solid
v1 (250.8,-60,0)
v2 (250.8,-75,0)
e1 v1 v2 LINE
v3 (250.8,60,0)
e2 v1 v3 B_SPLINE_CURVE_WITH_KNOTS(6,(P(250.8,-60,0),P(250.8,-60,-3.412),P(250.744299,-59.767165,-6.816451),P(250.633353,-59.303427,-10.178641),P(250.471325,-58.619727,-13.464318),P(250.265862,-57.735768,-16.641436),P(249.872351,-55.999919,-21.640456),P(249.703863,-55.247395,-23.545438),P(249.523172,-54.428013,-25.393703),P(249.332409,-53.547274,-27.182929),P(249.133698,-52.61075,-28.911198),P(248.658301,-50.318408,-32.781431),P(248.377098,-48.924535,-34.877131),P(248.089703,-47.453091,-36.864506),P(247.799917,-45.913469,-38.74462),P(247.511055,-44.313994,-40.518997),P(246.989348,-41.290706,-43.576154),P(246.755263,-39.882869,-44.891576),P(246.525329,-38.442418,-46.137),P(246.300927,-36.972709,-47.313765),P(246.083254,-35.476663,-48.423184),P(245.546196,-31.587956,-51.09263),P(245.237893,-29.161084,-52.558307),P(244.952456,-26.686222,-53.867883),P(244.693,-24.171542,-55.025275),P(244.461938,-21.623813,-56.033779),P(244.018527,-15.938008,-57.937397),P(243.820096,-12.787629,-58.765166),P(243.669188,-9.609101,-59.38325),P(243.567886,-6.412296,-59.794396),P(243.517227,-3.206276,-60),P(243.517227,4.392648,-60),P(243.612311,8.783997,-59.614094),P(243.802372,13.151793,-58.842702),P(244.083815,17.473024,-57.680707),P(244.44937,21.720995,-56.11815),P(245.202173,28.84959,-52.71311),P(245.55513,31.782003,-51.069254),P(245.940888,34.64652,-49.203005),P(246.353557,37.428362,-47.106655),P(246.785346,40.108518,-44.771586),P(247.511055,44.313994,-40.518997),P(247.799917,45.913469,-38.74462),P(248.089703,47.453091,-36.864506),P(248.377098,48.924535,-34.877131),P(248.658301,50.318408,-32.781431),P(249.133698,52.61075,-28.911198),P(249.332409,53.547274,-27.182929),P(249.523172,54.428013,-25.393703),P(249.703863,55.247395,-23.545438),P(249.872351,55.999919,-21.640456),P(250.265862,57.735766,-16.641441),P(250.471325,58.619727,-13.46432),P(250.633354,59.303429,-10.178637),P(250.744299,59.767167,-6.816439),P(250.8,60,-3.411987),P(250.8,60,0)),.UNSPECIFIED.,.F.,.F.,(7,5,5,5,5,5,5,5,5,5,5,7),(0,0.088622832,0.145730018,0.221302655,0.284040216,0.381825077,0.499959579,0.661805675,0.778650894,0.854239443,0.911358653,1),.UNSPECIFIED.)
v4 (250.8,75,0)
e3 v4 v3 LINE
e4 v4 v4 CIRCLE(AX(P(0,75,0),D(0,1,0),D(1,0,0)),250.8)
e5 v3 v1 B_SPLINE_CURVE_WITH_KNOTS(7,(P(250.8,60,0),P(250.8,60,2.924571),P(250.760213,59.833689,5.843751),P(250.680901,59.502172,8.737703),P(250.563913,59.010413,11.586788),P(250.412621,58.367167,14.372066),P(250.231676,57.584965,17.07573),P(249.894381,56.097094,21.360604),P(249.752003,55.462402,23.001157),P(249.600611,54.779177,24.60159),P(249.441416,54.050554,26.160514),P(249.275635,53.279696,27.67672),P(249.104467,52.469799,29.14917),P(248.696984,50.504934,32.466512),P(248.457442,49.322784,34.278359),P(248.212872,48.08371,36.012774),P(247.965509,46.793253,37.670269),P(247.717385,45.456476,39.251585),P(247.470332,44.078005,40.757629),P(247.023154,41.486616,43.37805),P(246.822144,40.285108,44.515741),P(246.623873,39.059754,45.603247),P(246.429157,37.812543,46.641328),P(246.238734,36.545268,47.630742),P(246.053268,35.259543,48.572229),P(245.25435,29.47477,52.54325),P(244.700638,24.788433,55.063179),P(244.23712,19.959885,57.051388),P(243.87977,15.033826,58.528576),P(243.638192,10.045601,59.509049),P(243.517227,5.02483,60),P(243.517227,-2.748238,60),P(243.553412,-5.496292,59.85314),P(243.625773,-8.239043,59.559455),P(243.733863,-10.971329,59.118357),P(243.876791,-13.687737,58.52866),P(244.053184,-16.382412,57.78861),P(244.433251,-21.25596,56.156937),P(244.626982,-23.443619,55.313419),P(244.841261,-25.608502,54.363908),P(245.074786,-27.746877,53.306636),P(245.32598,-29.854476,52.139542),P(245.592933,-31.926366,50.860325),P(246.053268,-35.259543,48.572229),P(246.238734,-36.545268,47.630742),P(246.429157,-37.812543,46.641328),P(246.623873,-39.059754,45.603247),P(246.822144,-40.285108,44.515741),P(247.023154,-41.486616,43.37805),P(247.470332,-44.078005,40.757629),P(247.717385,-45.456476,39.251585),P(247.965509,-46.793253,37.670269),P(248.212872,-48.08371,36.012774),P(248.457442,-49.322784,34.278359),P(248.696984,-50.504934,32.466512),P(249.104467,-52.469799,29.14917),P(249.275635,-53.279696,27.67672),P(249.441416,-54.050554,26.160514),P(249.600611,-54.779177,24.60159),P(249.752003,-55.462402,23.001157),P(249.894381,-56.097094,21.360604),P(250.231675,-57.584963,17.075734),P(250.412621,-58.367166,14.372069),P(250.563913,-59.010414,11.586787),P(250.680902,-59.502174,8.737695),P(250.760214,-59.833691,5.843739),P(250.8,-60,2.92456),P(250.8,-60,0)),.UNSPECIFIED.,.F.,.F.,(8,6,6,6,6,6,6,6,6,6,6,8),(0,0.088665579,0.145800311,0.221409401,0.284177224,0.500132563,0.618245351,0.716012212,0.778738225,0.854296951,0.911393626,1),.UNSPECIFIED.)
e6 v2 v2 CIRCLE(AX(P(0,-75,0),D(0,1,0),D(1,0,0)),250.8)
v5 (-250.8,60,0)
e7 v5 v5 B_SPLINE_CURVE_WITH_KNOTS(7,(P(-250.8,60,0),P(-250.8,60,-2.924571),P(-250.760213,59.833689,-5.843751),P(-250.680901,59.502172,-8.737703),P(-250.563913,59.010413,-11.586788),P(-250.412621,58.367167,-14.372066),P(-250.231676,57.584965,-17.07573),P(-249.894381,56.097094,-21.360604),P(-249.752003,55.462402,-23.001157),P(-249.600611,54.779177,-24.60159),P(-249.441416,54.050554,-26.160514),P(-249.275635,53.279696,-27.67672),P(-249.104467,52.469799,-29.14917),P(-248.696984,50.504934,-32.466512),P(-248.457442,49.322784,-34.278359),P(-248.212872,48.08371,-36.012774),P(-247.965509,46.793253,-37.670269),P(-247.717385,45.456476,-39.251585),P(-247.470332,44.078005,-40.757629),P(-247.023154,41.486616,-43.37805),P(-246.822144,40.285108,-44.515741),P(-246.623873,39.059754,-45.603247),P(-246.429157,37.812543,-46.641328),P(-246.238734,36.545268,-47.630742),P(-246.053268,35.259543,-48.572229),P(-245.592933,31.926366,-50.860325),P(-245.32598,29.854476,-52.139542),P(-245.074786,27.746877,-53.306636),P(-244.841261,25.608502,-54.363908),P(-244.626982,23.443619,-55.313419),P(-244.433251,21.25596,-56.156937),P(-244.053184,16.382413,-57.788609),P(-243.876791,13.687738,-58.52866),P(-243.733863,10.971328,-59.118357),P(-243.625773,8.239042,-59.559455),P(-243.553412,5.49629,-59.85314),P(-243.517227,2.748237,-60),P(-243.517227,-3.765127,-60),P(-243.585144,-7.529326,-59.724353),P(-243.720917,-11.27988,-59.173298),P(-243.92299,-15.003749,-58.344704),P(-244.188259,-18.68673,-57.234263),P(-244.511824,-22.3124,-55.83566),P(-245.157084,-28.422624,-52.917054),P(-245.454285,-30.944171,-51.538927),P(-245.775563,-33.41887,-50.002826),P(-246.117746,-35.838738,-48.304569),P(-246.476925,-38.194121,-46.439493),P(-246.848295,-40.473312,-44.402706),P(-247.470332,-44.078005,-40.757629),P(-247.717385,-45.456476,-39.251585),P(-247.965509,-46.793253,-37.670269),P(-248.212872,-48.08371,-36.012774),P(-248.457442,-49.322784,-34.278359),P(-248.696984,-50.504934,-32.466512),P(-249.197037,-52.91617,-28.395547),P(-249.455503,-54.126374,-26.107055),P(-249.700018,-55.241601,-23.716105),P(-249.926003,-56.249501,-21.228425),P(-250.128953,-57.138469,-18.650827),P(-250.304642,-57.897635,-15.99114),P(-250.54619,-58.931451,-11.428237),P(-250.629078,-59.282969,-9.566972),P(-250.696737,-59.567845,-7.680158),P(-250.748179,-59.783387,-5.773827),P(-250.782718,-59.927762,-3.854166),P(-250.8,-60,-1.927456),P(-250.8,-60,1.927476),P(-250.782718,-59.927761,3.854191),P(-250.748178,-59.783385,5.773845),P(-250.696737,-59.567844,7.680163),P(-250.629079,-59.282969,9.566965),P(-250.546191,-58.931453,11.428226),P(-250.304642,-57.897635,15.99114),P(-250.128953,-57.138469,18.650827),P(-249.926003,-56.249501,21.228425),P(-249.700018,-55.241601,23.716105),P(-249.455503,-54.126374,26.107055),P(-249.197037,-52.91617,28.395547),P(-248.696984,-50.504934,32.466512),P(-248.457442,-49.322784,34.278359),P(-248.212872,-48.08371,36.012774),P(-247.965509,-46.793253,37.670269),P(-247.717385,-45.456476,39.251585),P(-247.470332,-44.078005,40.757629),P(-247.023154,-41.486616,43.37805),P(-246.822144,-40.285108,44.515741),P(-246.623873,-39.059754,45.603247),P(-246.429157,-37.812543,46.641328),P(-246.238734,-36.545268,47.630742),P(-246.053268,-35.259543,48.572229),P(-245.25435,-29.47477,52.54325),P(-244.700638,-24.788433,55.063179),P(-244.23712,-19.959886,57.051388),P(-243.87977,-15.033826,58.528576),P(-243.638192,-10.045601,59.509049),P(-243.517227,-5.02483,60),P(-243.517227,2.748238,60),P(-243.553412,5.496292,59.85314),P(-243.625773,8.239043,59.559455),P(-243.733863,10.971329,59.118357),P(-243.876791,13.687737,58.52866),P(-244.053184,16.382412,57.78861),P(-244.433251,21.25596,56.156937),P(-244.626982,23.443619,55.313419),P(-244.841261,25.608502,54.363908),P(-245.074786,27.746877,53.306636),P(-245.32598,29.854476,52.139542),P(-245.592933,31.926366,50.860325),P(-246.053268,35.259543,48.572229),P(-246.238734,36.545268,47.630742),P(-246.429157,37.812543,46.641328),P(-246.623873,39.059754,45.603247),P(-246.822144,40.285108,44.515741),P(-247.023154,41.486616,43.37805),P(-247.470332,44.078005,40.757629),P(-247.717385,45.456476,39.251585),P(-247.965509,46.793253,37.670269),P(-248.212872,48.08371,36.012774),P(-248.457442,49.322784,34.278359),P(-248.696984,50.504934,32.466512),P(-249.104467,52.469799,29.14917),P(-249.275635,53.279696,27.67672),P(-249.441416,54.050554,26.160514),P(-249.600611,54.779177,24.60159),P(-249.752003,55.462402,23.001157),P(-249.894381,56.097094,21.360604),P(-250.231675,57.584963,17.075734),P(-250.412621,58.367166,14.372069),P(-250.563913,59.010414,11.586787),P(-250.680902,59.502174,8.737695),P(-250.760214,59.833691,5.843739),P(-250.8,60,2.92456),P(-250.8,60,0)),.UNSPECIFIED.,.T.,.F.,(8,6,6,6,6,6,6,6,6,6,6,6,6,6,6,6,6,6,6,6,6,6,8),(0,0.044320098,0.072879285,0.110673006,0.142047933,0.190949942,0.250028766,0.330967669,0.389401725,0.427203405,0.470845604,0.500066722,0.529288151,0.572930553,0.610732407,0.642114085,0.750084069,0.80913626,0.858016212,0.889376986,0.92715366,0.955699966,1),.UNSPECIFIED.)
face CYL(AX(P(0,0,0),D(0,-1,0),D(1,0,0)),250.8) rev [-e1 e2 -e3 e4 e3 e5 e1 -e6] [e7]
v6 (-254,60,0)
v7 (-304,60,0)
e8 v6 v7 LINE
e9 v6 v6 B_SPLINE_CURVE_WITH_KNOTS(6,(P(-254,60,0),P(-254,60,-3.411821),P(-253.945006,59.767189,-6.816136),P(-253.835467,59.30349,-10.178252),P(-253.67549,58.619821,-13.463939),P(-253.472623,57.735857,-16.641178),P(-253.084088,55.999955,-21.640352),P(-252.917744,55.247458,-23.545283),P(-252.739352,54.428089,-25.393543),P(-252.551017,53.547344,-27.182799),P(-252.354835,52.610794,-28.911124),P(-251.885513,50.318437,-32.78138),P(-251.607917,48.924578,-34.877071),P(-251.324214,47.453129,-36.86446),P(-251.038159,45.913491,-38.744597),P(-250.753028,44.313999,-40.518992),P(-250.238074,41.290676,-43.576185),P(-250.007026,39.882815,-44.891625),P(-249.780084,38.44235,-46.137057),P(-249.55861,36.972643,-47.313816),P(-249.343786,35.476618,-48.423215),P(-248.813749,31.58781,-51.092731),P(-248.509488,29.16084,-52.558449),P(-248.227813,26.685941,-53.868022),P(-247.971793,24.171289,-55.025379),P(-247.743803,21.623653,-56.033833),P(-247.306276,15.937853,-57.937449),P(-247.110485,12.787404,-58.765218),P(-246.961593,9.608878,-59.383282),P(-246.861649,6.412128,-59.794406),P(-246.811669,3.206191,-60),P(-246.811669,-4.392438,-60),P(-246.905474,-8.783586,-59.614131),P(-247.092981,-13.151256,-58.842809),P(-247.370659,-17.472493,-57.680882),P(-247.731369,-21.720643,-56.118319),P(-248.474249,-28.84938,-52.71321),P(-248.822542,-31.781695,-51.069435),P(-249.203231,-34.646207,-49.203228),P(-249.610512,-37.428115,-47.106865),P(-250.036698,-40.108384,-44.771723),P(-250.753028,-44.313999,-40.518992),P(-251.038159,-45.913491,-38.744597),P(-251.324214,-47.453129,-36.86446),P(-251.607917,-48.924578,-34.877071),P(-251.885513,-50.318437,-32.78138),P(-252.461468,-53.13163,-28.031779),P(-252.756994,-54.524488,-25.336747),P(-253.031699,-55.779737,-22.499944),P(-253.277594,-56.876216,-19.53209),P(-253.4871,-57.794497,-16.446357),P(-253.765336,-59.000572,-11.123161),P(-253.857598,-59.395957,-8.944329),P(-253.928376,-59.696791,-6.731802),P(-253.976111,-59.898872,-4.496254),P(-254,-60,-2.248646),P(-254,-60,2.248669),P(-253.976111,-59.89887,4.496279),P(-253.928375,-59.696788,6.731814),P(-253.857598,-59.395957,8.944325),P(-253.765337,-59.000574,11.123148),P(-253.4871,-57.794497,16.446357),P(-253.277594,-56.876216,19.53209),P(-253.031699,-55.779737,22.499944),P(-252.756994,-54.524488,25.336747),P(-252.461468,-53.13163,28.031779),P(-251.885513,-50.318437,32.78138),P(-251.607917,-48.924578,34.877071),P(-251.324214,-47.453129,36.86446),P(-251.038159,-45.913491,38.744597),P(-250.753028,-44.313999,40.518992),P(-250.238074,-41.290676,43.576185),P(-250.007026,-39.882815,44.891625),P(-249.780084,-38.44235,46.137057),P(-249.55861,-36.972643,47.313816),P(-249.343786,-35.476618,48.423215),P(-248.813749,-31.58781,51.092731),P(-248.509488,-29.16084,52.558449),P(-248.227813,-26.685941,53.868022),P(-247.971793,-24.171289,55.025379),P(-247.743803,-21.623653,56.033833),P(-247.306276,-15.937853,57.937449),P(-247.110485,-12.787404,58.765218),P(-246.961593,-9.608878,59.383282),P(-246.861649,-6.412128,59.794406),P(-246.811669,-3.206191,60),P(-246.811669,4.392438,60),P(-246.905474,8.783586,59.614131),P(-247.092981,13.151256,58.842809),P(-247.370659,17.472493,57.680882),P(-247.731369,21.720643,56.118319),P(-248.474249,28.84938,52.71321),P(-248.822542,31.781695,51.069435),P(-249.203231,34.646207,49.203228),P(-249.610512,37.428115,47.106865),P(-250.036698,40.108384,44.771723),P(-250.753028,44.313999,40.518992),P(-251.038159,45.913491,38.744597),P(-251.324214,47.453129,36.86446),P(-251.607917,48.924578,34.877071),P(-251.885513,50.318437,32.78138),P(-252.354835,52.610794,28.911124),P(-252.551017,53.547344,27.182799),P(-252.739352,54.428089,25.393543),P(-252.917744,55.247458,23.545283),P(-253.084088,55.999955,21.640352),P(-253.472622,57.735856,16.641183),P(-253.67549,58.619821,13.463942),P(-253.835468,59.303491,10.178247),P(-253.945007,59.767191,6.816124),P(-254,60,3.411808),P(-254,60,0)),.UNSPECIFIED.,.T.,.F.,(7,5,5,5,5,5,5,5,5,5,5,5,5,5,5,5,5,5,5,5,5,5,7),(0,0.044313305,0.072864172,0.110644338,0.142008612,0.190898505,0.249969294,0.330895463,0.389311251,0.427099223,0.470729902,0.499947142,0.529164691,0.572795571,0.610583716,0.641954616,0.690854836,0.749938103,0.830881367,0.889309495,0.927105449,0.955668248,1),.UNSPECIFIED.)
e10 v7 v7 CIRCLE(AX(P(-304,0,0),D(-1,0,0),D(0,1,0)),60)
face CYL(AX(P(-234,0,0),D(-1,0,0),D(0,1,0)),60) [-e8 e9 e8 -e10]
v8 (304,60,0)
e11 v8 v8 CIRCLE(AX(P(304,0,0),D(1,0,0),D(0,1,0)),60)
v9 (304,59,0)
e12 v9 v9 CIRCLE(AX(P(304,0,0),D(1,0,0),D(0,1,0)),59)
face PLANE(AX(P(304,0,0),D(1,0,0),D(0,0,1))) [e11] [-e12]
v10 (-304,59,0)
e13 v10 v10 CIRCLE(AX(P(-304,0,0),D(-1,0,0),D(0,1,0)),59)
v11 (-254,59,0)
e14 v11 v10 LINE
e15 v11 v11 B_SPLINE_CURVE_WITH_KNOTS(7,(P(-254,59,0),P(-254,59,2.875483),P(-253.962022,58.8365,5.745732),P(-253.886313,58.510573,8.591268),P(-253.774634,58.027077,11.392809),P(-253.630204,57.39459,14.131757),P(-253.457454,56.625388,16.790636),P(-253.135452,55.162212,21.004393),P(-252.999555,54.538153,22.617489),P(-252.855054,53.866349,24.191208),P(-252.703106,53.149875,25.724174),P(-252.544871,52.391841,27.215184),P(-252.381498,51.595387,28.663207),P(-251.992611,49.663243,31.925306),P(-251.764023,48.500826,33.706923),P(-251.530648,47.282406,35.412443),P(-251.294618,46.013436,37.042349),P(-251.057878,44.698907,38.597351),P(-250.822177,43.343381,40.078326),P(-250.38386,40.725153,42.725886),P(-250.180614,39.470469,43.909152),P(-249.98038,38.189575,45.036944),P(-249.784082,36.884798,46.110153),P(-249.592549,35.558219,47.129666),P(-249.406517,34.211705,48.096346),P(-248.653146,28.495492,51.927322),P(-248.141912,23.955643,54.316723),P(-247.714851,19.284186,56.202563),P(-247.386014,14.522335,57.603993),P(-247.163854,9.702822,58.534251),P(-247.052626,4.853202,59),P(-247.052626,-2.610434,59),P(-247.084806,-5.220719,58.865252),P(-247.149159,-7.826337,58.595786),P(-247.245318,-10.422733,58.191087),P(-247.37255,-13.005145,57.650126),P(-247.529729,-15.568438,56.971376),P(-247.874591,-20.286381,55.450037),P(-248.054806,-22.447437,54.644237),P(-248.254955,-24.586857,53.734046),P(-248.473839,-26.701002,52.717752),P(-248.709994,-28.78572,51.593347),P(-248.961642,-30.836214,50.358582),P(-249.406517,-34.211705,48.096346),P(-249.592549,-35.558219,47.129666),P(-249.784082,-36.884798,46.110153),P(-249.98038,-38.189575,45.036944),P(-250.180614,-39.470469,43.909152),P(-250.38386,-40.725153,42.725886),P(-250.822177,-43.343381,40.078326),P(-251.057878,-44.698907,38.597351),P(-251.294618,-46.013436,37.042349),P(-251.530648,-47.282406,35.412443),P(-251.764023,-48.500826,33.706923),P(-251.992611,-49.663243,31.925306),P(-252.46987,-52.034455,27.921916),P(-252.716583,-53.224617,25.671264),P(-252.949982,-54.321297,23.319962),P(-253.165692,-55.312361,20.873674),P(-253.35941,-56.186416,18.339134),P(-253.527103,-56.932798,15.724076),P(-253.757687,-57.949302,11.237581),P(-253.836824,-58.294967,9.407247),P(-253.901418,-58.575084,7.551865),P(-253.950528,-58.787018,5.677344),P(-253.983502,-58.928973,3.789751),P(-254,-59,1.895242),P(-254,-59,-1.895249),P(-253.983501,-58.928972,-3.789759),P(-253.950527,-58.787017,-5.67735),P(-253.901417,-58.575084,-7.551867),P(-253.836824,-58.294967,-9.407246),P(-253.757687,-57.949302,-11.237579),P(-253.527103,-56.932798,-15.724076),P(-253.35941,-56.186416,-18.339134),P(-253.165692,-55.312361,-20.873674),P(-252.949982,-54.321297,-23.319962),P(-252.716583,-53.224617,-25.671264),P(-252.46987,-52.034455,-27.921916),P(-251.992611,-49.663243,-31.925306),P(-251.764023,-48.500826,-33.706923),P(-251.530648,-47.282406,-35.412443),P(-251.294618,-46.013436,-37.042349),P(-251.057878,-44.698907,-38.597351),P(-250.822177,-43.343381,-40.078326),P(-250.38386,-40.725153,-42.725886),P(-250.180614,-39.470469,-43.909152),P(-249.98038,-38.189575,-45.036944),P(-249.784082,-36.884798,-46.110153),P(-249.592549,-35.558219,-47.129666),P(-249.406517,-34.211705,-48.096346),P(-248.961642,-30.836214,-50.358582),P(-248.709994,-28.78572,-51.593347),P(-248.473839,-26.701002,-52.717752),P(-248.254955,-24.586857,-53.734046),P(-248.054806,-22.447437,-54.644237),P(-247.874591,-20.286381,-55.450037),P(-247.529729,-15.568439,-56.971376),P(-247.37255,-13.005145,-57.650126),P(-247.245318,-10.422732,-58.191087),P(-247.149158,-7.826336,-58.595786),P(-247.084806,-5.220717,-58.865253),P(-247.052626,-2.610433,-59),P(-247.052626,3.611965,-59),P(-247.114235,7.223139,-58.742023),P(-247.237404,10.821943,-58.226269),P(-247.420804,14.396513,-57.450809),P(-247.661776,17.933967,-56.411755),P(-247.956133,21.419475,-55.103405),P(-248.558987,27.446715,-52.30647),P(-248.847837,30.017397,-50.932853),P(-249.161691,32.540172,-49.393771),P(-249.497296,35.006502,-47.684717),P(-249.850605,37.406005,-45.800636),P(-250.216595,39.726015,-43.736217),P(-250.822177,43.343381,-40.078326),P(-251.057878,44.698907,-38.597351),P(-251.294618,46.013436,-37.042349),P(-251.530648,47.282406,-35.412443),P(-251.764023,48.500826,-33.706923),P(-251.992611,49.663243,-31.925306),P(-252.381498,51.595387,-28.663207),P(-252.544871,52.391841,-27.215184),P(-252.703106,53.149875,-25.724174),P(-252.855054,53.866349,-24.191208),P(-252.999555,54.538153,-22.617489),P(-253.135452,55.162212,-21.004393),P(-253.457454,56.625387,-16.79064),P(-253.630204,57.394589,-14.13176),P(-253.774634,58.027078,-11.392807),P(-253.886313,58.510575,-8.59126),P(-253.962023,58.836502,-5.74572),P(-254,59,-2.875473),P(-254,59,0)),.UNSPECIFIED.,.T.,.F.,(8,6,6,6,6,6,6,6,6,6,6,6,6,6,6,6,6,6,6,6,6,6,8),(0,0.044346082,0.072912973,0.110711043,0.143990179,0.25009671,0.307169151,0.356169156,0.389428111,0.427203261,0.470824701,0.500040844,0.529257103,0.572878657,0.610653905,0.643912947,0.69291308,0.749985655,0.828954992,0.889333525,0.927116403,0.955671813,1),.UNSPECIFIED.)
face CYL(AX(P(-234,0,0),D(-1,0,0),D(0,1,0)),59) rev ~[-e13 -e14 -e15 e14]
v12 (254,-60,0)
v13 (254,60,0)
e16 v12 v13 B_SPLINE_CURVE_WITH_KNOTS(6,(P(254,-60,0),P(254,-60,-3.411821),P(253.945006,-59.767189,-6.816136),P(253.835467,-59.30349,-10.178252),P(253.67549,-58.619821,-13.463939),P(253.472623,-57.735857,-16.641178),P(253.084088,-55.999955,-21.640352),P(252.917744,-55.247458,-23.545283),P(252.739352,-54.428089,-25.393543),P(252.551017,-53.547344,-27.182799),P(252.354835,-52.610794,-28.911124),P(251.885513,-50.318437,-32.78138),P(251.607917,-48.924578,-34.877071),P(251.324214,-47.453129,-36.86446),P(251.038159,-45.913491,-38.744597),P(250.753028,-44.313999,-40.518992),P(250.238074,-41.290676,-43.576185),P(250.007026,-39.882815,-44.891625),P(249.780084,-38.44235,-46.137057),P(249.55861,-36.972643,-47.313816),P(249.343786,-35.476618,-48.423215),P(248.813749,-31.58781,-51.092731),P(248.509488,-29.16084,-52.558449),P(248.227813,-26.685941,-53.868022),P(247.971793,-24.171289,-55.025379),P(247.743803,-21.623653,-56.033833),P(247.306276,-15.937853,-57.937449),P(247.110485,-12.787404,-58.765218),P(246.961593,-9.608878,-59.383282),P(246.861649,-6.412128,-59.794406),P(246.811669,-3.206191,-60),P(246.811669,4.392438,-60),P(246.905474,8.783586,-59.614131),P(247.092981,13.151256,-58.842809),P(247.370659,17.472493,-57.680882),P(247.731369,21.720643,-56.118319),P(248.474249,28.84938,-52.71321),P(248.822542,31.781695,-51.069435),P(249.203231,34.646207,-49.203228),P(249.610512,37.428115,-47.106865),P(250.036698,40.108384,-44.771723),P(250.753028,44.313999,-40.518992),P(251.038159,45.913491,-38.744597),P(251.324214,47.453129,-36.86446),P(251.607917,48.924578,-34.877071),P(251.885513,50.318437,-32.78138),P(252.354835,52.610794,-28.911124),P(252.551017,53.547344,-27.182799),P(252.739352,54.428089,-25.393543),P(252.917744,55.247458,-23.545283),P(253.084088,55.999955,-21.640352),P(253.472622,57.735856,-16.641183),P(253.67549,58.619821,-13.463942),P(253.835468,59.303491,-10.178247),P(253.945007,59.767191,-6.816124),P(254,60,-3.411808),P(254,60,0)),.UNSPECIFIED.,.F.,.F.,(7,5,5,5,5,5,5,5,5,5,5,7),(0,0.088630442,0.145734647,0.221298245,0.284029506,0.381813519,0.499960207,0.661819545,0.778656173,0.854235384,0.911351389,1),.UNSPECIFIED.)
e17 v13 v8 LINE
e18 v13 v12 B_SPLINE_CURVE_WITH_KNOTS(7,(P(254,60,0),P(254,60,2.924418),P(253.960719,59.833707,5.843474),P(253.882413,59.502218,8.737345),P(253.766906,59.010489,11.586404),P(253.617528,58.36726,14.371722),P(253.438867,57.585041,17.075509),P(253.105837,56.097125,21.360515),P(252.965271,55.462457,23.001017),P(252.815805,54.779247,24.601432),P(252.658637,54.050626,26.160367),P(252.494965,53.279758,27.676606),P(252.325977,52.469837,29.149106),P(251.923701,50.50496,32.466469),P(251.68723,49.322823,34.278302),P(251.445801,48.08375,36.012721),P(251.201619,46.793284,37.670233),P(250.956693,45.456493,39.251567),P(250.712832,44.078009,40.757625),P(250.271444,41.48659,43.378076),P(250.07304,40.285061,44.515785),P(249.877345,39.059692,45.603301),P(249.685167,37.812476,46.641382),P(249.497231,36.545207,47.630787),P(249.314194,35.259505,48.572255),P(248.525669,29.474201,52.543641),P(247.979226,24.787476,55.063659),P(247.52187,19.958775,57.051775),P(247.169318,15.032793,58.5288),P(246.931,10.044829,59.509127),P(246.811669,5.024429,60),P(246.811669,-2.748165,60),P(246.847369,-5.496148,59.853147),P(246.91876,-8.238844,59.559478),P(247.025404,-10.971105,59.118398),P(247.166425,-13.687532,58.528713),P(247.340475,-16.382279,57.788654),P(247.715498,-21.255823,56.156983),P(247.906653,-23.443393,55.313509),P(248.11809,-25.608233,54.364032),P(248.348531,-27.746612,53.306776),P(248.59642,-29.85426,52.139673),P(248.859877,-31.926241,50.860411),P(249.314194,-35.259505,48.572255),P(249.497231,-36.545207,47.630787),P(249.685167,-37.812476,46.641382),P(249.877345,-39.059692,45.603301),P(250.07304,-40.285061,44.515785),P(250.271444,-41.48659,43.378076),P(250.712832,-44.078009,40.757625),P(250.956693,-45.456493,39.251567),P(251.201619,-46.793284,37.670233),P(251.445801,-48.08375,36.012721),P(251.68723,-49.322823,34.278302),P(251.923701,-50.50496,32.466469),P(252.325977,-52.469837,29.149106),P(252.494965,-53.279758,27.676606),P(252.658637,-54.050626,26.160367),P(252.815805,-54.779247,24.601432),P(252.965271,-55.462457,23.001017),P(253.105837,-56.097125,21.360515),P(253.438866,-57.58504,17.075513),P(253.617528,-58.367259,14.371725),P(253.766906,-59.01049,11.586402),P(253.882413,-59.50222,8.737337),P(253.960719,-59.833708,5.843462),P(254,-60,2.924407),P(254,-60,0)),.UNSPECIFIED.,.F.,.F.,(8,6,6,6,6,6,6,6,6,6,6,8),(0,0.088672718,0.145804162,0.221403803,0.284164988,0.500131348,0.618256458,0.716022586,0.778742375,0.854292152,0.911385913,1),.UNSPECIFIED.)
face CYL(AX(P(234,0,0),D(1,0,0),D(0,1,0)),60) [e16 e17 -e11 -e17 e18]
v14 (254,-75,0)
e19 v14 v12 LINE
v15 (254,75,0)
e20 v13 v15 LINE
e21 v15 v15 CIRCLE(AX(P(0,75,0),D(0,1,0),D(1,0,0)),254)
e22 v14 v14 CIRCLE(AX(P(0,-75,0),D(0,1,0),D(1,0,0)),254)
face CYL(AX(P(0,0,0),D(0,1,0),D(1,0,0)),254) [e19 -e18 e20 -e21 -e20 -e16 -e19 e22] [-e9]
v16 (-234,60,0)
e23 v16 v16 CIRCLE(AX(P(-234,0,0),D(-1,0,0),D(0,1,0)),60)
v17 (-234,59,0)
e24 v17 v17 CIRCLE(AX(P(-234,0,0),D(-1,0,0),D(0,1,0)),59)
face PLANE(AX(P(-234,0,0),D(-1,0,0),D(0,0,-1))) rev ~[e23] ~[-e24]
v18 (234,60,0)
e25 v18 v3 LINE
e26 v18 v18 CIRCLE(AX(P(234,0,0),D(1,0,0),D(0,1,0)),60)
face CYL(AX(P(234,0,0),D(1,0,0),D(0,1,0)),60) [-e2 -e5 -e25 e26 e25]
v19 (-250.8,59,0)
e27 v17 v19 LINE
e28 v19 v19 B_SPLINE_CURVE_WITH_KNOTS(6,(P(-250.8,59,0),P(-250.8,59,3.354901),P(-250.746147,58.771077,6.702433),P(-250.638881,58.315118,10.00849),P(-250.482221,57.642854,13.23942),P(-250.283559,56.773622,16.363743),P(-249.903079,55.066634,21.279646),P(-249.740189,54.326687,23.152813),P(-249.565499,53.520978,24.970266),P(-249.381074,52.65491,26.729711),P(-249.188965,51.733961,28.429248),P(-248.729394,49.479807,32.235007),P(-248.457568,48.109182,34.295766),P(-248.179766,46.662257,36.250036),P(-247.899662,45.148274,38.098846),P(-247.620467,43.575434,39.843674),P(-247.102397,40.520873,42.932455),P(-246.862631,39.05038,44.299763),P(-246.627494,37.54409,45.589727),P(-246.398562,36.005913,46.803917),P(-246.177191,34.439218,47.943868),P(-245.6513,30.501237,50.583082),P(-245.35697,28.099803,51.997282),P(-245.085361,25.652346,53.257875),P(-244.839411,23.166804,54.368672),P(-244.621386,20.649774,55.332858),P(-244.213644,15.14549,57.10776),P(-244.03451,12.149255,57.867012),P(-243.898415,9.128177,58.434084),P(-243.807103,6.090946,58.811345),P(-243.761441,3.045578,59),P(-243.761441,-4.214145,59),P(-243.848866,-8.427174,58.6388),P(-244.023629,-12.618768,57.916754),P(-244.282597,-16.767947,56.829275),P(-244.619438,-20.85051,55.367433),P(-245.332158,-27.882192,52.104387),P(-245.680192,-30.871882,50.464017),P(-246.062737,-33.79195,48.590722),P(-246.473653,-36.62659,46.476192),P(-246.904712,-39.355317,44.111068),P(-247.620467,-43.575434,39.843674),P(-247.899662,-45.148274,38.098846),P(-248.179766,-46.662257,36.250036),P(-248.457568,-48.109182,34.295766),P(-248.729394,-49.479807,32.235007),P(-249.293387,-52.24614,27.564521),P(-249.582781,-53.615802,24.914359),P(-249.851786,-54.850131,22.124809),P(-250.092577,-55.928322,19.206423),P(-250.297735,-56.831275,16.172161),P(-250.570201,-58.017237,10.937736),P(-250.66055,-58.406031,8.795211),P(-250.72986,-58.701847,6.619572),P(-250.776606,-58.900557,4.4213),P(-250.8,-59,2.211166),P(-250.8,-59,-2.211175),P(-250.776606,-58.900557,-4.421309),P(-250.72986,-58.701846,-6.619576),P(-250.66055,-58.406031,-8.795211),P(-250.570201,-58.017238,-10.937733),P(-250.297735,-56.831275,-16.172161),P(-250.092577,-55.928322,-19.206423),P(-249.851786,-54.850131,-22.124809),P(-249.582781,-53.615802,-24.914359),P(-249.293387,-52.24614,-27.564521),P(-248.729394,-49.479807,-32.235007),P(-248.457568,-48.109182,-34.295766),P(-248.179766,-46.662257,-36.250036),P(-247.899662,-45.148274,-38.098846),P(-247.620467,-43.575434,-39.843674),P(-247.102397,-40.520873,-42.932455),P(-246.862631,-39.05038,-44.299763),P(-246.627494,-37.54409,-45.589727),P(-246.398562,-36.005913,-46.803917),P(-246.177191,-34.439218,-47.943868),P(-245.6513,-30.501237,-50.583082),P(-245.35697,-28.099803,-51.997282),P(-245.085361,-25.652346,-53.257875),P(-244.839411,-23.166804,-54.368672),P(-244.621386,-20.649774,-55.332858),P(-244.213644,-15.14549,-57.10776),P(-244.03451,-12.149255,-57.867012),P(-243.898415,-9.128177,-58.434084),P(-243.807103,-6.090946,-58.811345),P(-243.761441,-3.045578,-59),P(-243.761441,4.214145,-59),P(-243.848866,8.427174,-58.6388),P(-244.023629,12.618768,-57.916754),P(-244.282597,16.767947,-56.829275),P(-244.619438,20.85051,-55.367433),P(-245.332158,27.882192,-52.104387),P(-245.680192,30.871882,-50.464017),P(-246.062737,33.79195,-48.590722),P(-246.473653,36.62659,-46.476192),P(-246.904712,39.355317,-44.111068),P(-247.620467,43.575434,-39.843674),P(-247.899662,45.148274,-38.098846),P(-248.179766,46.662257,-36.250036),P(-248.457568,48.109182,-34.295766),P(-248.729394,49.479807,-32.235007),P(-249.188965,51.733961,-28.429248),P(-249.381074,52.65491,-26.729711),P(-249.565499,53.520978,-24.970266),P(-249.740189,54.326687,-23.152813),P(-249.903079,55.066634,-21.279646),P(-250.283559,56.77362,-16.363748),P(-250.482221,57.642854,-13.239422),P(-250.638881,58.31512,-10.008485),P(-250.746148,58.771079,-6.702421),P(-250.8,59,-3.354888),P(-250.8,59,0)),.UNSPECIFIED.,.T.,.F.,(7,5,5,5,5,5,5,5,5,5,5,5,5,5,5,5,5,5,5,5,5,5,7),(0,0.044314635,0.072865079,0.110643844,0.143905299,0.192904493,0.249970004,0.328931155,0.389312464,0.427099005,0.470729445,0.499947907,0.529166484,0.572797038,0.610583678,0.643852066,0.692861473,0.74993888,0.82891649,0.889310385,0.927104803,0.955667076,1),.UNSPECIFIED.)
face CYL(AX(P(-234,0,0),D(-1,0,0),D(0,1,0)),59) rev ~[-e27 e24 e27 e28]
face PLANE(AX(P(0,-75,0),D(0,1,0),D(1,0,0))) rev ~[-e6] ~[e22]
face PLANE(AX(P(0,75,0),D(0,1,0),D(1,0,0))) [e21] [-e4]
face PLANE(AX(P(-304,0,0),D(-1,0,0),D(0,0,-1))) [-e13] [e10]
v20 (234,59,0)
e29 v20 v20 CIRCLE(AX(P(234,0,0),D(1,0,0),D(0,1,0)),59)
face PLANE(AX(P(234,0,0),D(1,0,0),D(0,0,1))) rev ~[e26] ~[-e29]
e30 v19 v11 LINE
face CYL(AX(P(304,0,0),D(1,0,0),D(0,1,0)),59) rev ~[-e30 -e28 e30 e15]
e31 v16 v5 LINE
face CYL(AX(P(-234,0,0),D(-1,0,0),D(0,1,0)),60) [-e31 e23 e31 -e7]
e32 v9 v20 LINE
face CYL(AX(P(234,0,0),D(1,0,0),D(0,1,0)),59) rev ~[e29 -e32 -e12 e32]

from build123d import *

# Parameters (mm, degrees)
SCHIZZO2_R                  = 254
SCHIZZO2_R_2                = 250.8
ESTRUSIONE_SOTTILE1_DEPTH   = 75
SWEEP_SOTTILE2_PROFILE_R    = 60
SWEEP_SOTTILE2_PROFILE_R_2  = 59
TAGLIO_ESTRUSIONE1_REACH    = 619.661
SCHIZZO26_R                 = 59
RIPETIZIONECIRCOLARE1_COUNT = 2


with BuildPart() as part:
    # Schizzo2 → Estrusione-Sottile1 (new, symmetric)
    with BuildSketch(Plane(origin=(0, 0, 0), x_dir=(1, 0, 0), z_dir=(0, 1, 0))):
        Circle(SCHIZZO2_R)
        Circle(SCHIZZO2_R_2, mode=Mode.SUBTRACT)
    extrude(amount=ESTRUSIONE_SOTTILE1_DEPTH, both=True)

    # Sweep-Sottile2: sweep along a path in Schizzo3
    with BuildLine(Plane.XY) as sweep_sottile2_path:
        Line((234, 0), (304, 0))
    # Sweep-Sottile2 profile (on start of the path) → Sweep-Sottile2 (sweep)
    with BuildSketch(Plane.YZ.offset(234)):
        Circle(SWEEP_SOTTILE2_PROFILE_R)
        Circle(SWEEP_SOTTILE2_PROFILE_R_2, mode=Mode.SUBTRACT)
    sweep_sottile2 = sweep(path=sweep_sottile2_path.line)

    # Schizzo26 → Taglio-Estrusione1 (cut, up to next)
    with BuildSketch(Plane(origin=(304, 0, 0), x_dir=(0, 0, -1), z_dir=(1, 0, 0)), mode=Mode.PRIVATE) as taglio_estrusione1_sk1:
        with Locations(Location((0, 0, 0), (0, 0, 90))):
            Circle(SCHIZZO26_R)
    taglio_estrusione1_tool1 = extrude(taglio_estrusione1_sk1.sketch, amount=-TAGLIO_ESTRUSIONE1_REACH, mode=Mode.PRIVATE) & part.part
    add(taglio_estrusione1_tool1.solids().sort_by_distance((304, 0, 0))[0], mode=Mode.SUBTRACT)
    add(taglio_estrusione1_tool1.solids().sort_by_distance((304, 0, 0))[1], mode=Mode.SUBTRACT)

    # RipetizioneCircolare1: Sweep-Sottile2 ×2 about axis
    ripetizionecircolare1_axis = Axis((0, 75, 0), (0, 1, 0))
    for i in range(1, RIPETIZIONECIRCOLARE1_COUNT):
        add(sweep_sottile2.rotate(ripetizionecircolare1_axis, i * 360 / RIPETIZIONECIRCOLARE1_COUNT))


solid = part.part
